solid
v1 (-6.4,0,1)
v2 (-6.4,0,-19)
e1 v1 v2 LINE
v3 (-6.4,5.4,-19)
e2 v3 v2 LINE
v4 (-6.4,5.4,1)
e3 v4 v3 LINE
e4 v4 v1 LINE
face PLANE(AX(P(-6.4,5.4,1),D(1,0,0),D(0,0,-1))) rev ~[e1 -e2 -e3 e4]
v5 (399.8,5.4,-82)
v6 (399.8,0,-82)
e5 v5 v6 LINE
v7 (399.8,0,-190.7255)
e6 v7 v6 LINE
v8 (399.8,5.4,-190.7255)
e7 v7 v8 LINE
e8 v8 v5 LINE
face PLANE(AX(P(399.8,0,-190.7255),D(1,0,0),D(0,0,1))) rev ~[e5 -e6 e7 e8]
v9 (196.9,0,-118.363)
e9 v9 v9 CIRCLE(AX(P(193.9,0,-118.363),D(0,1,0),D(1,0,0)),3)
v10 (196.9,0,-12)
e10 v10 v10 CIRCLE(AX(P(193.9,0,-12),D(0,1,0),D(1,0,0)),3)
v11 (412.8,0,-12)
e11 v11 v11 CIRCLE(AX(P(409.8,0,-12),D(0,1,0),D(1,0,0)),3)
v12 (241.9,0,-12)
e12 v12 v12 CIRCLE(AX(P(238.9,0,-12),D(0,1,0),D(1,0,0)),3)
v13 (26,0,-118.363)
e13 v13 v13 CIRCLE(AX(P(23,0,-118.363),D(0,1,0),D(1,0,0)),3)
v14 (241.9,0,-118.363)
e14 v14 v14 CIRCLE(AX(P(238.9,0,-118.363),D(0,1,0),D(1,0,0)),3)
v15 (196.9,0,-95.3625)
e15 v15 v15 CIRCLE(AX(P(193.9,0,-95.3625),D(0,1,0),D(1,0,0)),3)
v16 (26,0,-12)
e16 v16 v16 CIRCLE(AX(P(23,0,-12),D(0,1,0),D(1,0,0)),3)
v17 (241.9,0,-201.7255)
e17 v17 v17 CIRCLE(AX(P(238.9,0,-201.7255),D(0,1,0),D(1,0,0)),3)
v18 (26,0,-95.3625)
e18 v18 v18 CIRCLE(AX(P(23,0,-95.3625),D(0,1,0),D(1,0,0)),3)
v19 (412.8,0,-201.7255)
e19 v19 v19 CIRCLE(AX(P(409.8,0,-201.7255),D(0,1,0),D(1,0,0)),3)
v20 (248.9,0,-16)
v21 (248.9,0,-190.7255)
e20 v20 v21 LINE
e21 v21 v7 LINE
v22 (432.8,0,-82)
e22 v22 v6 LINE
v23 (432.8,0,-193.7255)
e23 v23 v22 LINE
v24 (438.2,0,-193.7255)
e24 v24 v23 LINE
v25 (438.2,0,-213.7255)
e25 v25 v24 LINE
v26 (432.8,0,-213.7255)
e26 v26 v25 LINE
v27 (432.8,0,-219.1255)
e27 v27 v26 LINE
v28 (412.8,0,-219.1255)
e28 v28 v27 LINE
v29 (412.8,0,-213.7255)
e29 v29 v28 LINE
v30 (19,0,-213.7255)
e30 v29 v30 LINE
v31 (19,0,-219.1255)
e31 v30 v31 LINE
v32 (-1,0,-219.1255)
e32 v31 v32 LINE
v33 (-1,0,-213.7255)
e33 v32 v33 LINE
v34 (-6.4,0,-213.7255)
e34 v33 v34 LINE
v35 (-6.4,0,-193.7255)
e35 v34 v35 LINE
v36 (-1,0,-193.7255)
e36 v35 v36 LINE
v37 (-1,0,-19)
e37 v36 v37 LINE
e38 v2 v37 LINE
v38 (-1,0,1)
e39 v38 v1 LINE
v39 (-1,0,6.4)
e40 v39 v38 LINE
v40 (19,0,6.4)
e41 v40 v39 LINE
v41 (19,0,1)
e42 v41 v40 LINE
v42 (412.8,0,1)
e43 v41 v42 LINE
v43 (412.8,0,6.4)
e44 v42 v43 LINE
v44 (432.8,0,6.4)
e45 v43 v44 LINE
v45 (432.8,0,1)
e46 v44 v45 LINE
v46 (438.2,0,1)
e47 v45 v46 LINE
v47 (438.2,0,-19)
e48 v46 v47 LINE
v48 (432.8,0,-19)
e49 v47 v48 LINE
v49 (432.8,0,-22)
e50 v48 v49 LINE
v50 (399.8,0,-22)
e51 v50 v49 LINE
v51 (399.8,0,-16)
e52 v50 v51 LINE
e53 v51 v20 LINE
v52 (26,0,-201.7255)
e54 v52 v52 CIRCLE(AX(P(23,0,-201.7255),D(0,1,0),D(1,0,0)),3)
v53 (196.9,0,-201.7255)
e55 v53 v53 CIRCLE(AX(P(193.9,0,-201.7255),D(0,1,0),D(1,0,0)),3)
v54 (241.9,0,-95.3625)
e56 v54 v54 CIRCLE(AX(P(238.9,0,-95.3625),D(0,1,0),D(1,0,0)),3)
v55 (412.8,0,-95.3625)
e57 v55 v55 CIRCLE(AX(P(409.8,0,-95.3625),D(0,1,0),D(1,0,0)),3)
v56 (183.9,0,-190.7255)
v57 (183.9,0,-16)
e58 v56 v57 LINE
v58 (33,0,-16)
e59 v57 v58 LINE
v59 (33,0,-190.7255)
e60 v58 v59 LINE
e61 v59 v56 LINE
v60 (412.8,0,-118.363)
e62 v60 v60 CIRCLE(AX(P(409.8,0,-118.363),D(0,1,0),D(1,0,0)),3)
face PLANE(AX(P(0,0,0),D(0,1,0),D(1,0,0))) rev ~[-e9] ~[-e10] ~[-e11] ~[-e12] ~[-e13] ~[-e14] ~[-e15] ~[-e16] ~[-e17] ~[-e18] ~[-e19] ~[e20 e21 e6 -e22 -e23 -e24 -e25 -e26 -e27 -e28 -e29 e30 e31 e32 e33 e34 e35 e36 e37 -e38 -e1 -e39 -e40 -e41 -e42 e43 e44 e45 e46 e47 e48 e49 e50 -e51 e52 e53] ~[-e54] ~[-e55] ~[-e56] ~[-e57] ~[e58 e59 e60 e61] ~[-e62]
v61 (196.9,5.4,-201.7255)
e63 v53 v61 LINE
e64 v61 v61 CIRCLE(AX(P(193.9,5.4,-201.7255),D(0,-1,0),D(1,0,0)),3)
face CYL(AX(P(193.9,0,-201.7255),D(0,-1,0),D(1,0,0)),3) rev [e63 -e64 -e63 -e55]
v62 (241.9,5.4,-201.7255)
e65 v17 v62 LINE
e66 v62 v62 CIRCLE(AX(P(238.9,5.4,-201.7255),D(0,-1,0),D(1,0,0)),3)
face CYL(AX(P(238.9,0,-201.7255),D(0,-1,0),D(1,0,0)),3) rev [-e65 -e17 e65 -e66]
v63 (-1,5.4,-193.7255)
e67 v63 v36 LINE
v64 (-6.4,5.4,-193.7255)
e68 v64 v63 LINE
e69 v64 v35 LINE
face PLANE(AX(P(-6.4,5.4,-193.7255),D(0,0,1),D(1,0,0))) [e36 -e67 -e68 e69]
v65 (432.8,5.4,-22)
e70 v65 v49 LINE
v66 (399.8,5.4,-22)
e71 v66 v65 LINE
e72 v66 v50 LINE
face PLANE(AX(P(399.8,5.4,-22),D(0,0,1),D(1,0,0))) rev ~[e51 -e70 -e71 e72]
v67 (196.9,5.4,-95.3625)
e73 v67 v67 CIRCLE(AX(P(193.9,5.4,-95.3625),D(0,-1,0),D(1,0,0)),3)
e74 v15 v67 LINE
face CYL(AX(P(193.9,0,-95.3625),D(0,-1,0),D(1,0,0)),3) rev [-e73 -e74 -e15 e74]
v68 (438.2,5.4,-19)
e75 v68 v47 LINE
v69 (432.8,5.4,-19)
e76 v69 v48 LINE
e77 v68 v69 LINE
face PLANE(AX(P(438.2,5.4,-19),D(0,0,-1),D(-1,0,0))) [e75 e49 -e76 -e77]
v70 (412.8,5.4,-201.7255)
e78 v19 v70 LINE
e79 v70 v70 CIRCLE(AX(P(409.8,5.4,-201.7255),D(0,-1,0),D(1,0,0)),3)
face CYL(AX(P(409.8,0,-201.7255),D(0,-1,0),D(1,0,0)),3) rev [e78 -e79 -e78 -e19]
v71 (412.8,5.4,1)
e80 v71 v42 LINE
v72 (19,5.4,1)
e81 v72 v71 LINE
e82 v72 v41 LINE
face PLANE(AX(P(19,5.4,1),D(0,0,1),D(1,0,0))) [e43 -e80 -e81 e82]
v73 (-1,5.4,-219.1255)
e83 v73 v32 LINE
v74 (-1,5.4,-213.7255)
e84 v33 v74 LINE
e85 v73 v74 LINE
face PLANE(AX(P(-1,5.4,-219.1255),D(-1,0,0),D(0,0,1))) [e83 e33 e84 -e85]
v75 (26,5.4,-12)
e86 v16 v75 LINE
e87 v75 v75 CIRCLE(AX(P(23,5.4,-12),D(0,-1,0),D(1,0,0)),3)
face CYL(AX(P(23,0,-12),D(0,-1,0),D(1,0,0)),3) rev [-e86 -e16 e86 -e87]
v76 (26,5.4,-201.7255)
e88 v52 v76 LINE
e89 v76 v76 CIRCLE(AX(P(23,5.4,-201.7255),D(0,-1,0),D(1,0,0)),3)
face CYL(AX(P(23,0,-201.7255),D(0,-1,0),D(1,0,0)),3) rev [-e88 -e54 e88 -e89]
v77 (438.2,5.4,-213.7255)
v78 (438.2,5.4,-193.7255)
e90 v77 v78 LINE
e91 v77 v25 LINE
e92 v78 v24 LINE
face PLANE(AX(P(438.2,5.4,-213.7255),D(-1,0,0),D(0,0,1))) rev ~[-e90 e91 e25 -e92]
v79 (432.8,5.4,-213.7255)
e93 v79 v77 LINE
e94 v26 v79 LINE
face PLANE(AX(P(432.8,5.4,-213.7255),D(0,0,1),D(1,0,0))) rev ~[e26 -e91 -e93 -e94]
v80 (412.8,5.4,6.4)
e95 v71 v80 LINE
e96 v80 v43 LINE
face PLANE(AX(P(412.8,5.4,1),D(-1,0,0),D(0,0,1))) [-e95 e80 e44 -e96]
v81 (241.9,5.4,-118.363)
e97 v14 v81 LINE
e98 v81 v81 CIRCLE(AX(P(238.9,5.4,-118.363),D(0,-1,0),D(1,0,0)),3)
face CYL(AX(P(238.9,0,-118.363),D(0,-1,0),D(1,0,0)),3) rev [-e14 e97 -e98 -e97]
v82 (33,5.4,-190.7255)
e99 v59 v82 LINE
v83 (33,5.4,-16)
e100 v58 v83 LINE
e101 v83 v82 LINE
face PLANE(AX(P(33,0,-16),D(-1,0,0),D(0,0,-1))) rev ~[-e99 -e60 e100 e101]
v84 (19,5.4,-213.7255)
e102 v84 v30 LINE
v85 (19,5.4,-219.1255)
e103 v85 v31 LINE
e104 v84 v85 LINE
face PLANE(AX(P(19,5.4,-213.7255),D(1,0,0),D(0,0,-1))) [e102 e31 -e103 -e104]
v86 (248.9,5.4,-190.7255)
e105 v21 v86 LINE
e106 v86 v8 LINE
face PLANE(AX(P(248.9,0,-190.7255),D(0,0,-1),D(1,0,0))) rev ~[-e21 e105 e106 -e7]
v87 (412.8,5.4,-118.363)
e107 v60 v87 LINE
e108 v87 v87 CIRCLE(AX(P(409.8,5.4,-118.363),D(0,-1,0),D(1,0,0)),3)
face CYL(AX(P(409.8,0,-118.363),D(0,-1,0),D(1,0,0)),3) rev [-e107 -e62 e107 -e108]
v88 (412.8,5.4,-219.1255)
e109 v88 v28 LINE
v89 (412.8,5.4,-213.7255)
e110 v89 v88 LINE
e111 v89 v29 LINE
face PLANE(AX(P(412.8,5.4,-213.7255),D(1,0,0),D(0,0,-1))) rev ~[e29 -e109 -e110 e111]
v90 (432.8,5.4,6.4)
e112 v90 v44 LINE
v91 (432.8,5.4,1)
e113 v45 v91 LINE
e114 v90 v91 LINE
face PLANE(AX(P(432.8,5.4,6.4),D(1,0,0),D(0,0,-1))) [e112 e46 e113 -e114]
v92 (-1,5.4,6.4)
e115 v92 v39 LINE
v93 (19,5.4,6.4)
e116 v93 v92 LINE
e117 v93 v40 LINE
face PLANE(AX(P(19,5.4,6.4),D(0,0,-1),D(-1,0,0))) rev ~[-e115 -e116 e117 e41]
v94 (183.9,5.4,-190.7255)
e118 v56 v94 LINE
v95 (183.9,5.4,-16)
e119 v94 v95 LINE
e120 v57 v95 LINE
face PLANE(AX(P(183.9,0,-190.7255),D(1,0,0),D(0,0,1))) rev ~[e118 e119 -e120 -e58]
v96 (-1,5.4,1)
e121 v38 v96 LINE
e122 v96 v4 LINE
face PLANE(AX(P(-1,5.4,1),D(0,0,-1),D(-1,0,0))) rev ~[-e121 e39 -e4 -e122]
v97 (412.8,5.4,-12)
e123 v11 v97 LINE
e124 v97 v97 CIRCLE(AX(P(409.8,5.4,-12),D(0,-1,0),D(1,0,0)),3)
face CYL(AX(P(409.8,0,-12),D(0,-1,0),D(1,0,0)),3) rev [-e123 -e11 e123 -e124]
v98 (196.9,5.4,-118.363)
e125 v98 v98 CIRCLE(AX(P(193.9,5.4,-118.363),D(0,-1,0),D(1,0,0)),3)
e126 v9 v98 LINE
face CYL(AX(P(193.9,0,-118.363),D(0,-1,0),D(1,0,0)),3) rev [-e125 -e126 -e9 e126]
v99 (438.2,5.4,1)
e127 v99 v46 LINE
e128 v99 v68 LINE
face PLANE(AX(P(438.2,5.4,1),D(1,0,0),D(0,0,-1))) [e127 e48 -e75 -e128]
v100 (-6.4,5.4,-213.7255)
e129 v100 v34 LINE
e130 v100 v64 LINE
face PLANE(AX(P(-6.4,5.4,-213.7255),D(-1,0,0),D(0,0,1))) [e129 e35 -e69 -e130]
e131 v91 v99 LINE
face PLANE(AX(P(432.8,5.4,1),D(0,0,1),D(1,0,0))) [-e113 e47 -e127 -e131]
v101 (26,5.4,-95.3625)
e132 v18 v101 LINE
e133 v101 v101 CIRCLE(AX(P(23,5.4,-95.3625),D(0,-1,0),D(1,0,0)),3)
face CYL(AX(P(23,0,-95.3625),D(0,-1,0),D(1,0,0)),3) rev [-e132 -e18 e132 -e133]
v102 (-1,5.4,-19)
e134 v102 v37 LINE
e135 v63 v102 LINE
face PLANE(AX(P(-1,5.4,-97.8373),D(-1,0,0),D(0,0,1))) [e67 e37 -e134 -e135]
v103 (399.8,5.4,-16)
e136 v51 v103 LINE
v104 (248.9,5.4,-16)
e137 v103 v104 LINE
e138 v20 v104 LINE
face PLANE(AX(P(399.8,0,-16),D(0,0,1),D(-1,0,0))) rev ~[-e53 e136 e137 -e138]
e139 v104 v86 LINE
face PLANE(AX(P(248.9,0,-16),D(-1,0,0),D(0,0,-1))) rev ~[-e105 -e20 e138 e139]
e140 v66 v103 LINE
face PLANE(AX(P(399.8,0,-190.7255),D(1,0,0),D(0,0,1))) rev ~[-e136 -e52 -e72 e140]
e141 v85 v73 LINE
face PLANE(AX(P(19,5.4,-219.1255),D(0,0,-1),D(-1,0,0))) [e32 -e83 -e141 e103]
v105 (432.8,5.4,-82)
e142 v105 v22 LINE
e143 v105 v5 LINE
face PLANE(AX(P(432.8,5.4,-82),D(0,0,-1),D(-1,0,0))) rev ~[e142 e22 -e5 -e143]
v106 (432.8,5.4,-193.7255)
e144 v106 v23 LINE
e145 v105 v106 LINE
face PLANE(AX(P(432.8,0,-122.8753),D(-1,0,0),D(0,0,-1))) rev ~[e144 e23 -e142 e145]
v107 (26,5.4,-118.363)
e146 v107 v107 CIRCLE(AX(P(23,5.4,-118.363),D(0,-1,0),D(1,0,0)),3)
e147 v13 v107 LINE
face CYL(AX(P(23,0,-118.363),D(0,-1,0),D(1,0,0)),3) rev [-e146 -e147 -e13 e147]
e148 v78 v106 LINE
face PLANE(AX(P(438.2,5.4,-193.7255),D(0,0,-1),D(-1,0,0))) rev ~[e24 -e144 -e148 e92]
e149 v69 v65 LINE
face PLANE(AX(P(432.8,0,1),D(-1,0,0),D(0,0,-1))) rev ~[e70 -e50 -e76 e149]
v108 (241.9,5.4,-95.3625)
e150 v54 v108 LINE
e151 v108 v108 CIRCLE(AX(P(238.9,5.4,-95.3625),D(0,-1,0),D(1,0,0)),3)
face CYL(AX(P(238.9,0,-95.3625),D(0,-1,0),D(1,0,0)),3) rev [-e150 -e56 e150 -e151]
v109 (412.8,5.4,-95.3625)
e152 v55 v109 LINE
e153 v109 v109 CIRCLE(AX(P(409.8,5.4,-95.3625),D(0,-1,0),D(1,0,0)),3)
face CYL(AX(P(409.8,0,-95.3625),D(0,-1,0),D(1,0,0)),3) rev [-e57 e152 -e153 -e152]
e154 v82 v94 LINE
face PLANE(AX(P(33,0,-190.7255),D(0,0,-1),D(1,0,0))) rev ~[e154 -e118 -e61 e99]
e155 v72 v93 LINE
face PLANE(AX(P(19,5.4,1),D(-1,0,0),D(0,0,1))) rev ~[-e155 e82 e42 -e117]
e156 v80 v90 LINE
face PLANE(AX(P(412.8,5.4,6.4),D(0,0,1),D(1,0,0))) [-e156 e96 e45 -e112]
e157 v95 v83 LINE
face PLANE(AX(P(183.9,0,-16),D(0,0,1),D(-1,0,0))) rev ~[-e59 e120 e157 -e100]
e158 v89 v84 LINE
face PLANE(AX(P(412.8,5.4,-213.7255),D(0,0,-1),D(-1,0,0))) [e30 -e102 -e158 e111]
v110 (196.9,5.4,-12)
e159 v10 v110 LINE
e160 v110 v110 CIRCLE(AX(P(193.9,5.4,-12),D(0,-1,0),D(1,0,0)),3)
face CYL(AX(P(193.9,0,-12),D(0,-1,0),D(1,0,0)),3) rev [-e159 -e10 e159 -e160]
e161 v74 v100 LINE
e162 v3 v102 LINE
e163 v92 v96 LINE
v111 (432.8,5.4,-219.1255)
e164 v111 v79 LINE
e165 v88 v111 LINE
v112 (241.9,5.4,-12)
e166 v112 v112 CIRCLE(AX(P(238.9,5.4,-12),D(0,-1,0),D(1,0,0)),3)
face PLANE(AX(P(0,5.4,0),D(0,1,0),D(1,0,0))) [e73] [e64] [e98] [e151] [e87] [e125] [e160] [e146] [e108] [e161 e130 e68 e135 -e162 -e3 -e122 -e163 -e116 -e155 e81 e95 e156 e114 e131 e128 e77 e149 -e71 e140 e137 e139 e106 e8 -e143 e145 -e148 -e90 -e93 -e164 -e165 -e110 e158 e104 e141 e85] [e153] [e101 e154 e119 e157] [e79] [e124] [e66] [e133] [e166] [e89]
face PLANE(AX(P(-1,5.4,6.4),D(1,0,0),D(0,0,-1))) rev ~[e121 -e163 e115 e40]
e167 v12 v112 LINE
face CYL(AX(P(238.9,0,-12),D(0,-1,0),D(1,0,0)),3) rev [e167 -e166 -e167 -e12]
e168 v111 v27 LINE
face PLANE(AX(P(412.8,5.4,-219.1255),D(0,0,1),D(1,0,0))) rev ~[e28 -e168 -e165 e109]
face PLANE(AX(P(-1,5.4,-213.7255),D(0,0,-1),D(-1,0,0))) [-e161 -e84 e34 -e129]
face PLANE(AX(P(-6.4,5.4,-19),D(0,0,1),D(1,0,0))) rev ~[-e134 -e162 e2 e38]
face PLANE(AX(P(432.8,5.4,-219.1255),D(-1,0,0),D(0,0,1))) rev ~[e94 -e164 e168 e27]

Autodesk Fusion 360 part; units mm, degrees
sketch "Sketch1" plane through (0, 0, 0) normal (0, 1, 0) x (1, 0, 0)
  line L0 (193.9, 118.363) -> (193.9, 201.7255) construction
  line L1 (183.9, 190.7255) -> (183.9, 16)
  line L2 (23, 201.7255) -> (23, 118.363) construction
  line L3 (23, 12) -> (193.9, 12) construction
  circle A0 centre (23, 12) radius 3
  circle A1 centre (238.9, 12) radius 3
  line L4 (193.9, 95.3625) -> (23, 95.3625) construction
  line L5 (399.8, 190.7255) -> (399.8, 16)
  circle A2 centre (238.9, 95.3625) radius 3
  circle A3 centre (23, 201.7255) radius 3
  line L6 (33, 16) -> (33, 190.7255)
  line L7 (0, 212.7255) -> (0, 106.363) construction
  circle A4 centre (23, 118.363) radius 3
  circle A5 centre (193.9, 201.7255) radius 3
  circle A6 centre (23, 95.3625) radius 3
  line L8 (0, 106.3625) -> (0, 0) construction
  circle A7 centre (193.9, 95.3625) radius 3
  line L9 (23, 118.363) -> (193.9, 118.363) construction
  line L10 (193.9, 12) -> (193.9, 95.3625) construction
  circle A8 centre (193.9, 118.363) radius 3
  circle A9 centre (193.9, 12) radius 3
  line L11 (183.9, 16) -> (33, 16)
  line L12 (215.9, 0) -> (215.9, 106.3625) construction
  circle A10 centre (409.8, 118.363) radius 3
  line L13 (238.9, 118.363) -> (409.8, 118.363) construction
  line L14 (23, 95.3625) -> (23, 12) construction
  line L15 (215.9, 0) -> (431.8, 0) construction
  line L16 (431.8, 0) -> (431.8, 106.3625) construction
  line L17 (0, 106.363) -> (215.9, 106.363) construction
  circle A11 centre (409.8, 201.7255) radius 3
  line L18 (215.9, 106.3625) -> (0, 106.3625) construction
  line L19 (409.8, 201.7255) -> (238.9, 201.7255) construction
  line L20 (409.8, 12) -> (409.8, 95.3625) construction
  line L21 (215.9, 212.7255) -> (0, 212.7255) construction
  line L22 (0, 0) -> (215.9, 0) construction
  line L23 (215.9, 106.3625) -> (215.9, 0) construction
  circle A12 centre (409.8, 12) radius 3
  line L24 (215.9, 106.363) -> (431.8, 106.363) construction
  line L25 (409.8, 118.363) -> (409.8, 201.7255) construction
  line L26 (215.9, 106.363) -> (215.9, 212.7255) construction
  line L27 (238.9, 95.3625) -> (238.9, 12) construction
  circle A13 centre (409.8, 95.3625) radius 3
  line L28 (238.9, 12) -> (409.8, 12) construction
  line L29 (248.9, 16) -> (248.9, 190.7255)
  line L30 (248.9, 190.7255) -> (399.8, 190.7255)
  line L31 (431.8, 106.363) -> (431.8, 212.7255) construction
  line L32 (399.8, 16) -> (248.9, 16)
  line L33 (431.8, 212.7255) -> (215.9, 212.7255) construction
  line L34 (409.8, 95.3625) -> (238.9, 95.3625) construction
  line L35 (193.9, 201.7255) -> (23, 201.7255) construction
  line L36 (431.8, 106.3625) -> (215.9, 106.3625) construction
  line L37 (33, 190.7255) -> (183.9, 190.7255)
  circle A14 centre (238.9, 118.363) radius 3
  circle A15 centre (238.9, 201.7255) radius 3
  line L38 (238.9, 201.7255) -> (238.9, 118.363) construction
  line L39 (215.9, 212.7255) -> (215.9, 106.363) construction
  line L40 (432.8, 122.8753) -> (432.8, 213.7255)
  line L41 (432.8, 213.7255) -> (215.9, 213.7255)
  line L42 (215.9, 213.7255) -> (-1, 213.7255)
  line L43 (-1, 213.7255) -> (-1, 97.8373)
  line L44 (-1, 97.8373) -> (-1, -1)
  line L45 (-1, -1) -> (215.9, -1)
  line L46 (215.9, -1) -> (432.8, -1)
  line L47 (432.8, -1) -> (432.8, 122.8753)
  point P0 (215.9, 106.363)
  point P1 (0, 106.363)
  point P2 (215.9, 0)
  dimension "d3" = 215.9
  dimension "d4" = 106.363
  dimension "d5" = 106.3625
  dimension "d6" = 215.9
  dimension "d7" = 23
  dimension "d8" = 11
  dimension "d9" = 12
  dimension "d10" = 22
  dimension "d11" = 6
  dimension "d12" = 6
  dimension "d13" = 6
  dimension "d14" = 6
  dimension "d15" = 10
  dimension "d16" = 11
  dimension "d17" = 4
  dimension "d18" = 10
  dimension "d19" = 10
  dimension "d20" = 11
  dimension "d21" = 10
  dimension "d22" = 4
  dimension "d23" = 1
  dimension "d24" = 1
extrude "Extrude1" add sketch "Sketch1" along normal blind 5.4
sketch "Sketch2" plane through (0, 5.4, 0) normal (0, 1, 0) x (-1, 0, 0)
  circle A0 centre (-409.8, -12) radius 3
  circle A1 centre (-23, -95.3625) radius 3
  circle A2 centre (-409.8, -201.7255) radius 3
  circle A3 centre (-409.8, -95.3625) radius 3
  circle A4 centre (-238.9, -118.363) radius 3
  circle A5 centre (-238.9, -201.7255) radius 3
  circle A6 centre (-23, -12) radius 3
  circle A7 centre (-193.9, -201.7255) radius 3
  circle A8 centre (-193.9, -95.3625) radius 3
  line L0 (-399.8, -190.7255) -> (-399.8, -16)
  line L1 (-399.8, -16) -> (-248.9, -16)
  line L2 (-248.9, -16) -> (-248.9, -190.7255)
  line L3 (-248.9, -190.7255) -> (-399.8, -190.7255)
  circle A9 centre (-23, -201.7255) radius 3
  line L4 (-33, -16) -> (-33, -190.7255)
  line L5 (-33, -190.7255) -> (-183.9, -190.7255)
  line L6 (-183.9, -190.7255) -> (-183.9, -16)
  line L7 (-183.9, -16) -> (-33, -16)
  circle A10 centre (-23, -118.363) radius 3
  circle A11 centre (-238.9, -12) radius 3
  circle A12 centre (-238.9, -95.3625) radius 3
  circle A13 centre (-193.9, -118.363) radius 3
  circle A14 centre (-409.8, -118.363) radius 3
  circle A15 centre (-193.9, -12) radius 3
  line L8 (-432.8, 1) -> (-432.8, -122.8753)
  line L9 (-432.8, -122.8753) -> (-432.8, -213.7255)
  line L10 (-432.8, -213.7255) -> (1, -213.7255)
  line L11 (1, -213.7255) -> (1, -97.8373)
  line L12 (1, -97.8373) -> (1, 1)
  line L13 (1, 1) -> (-432.8, 1)
  line L14 (-399.8, -22) -> (-432.8, -22)
  line L15 (-432.8, -22) -> (-432.8, -82)
  line L16 (-432.8, -82) -> (-399.8, -82)
  line L17 (-399.8, -82) -> (-399.8, -22)
  dimension "d27" = 60
  dimension "d65" = 6
  dimension "d66" = 60
extrude "Extrude2" cut sketch "Sketch2" against normal blind 20 contours L0 L8 L14 L15 L16 L17
sketch "Sketch3" plane through (0, 5.4, 0) normal (0, 1, 0) x (-1, 0, 0)
  circle A0 centre (-193.9, -12) radius 3
  circle A1 centre (-409.8, -118.363) radius 3
  circle A2 centre (-193.9, -118.363) radius 3
  circle A3 centre (-238.9, -95.3625) radius 3
  circle A4 centre (-238.9, -12) radius 3
  circle A5 centre (-23, -118.363) radius 3
  line L0 (-33, -16) -> (-33, -190.7255)
  line L1 (-33, -190.7255) -> (-183.9, -190.7255)
  line L2 (-183.9, -190.7255) -> (-183.9, -16)
  line L3 (-183.9, -16) -> (-33, -16)
  circle A6 centre (-23, -201.7255) radius 3
  line L4 (-432.8, -22) -> (-399.8, -22)
  line L5 (-248.9, -16) -> (-248.9, -190.7255)
  line L6 (-248.9, -190.7255) -> (-399.8, -190.7255)
  line L7 (-399.8, -22) -> (-399.8, -16)
  line L8 (-399.8, -82) -> (-432.8, -82)
  line L9 (-432.8, -82) -> (-432.8, -122.8753)
  line L10 (-432.8, -122.8753) -> (-432.8, -213.7255)
  line L11 (-432.8, -213.7255) -> (1, -213.7255)
  line L12 (1, -213.7255) -> (1, -97.8373)
  line L13 (1, -97.8373) -> (1, 1)
  line L14 (1, 1) -> (-432.8, 1)
  line L15 (-432.8, 1) -> (-432.8, -22)
  circle A7 centre (-193.9, -95.3625) radius 3
  circle A8 centre (-193.9, -201.7255) radius 3
  circle A9 centre (-23, -12) radius 3
  circle A10 centre (-238.9, -201.7255) radius 3
  circle A11 centre (-238.9, -118.363) radius 3
  circle A12 centre (-409.8, -95.3625) radius 3
  circle A13 centre (-409.8, -201.7255) radius 3
  circle A14 centre (-23, -95.3625) radius 3
  circle A15 centre (-409.8, -12) radius 3
  line L16 (1, -213.7255) -> (6.4, -213.7255)
  line L17 (6.4, -213.7255) -> (6.4, -193.7255)
  line L18 (6.4, -193.7255) -> (1, -193.7255)
  line L19 (1, -193.7255) -> (1, -213.7255)
  line L20 (1, 1) -> (6.4, 1)
  line L21 (6.4, 1) -> (6.4, -19)
  line L22 (6.4, -19) -> (1, -19)
  line L23 (1, -19) -> (1, 1)
  line L24 (1, 1) -> (-19, 1)
  line L25 (-19, 1) -> (-19, 6.4)
  line L26 (-19, 6.4) -> (1, 6.4)
  line L27 (1, 6.4) -> (1, 1)
  line L28 (1, -213.7255) -> (-19, -213.7255)
  line L29 (-19, -213.7255) -> (-19, -219.1255)
  line L30 (-19, -219.1255) -> (1, -219.1255)
  line L31 (1, -219.1255) -> (1, -213.7255)
  line L32 (-432.8, -213.7255) -> (-412.8, -213.7255)
  line L33 (-412.8, -213.7255) -> (-412.8, -219.1255)
  line L34 (-412.8, -219.1255) -> (-432.8, -219.1255)
  line L35 (-432.8, -219.1255) -> (-432.8, -213.7255)
  line L36 (-432.8, -213.7255) -> (-438.2, -213.7255)
  line L37 (-438.2, -213.7255) -> (-438.2, -193.7255)
  line L38 (-438.2, -193.7255) -> (-432.8, -193.7255)
  line L39 (-432.8, -193.7255) -> (-432.8, -213.7255)
  line L40 (-432.8, 1) -> (-438.2, 1)
  line L41 (-438.2, 1) -> (-438.2, -19)
  line L42 (-438.2, -19) -> (-432.8, -19)
  line L43 (-432.8, -19) -> (-432.8, 1)
  line L44 (-432.8, 1) -> (-412.8, 1)
  line L45 (-412.8, 1) -> (-412.8, 6.4)
  line L46 (-412.8, 6.4) -> (-432.8, 6.4)
  line L47 (-432.8, 6.4) -> (-432.8, 1)
  line L48 (-399.8, -16) -> (-248.9, -16)
  line L49 (-399.8, -190.7255) -> (-399.8, -82)
  dimension "d30" = 5.4
  dimension "d31" = 20
  dimension "d32" = 5.4
  dimension "d33" = 20
  dimension "d34" = 20
  dimension "d35" = 5.4
  dimension "d36" = 5.4
  dimension "d37" = 20
  dimension "d38" = 20
  dimension "d39" = 5.4
  dimension "d40" = 5.4
  dimension "d41" = 20
  dimension "d42" = 5.4
  dimension "d43" = 20
  dimension "d44" = 20
  dimension "d45" = 5.4
  dimension "d63" = 433.8
extrude "Extrude3" add sketch "Sketch3" against normal blind 5.4 contours A0 | A1 | A2 | A3 | A4 | A5 | A6 | L4 L5 L6 L7 L8 L9 L10 L11 L12 L13 L14 L15 L19 L23 L24 L28 L32 L39 L43 L44 L48 L49 | L15 L40 L41 L42 L43 | L14 L44 L45 L46 L47 | L14 L24 L25 L26 L27 | L13 L20 L21 L22 L23 | L12 L16 L17 L18 L19 | L10 L36 L37 L38 L39 | L11 L28 L29 L30 L31 | L11 L32 L33 L34 L35 | A7 | A8 | A9 | A10 | A11 | A12 | A13 | A14 | A15
extrude "Extrude5" cut sketch "Sketch1" along normal blind 30 contours A0 | A1 | A2 | A3 | A4 | A5 | A6 | A7 | A8 | A9 | A10 | A11 | A12 | A13 | A14 | A15
sketch "export" plane through (0, 5.4, 0) normal (0, 1, 0) x (-1, 0, 0)
  circle A0 centre (-23, -118.363) radius 3
  circle A1 centre (-409.8, -201.7255) radius 3
  circle A2 centre (-193.9, -12) radius 3
  circle A3 centre (-238.9, -118.363) radius 3
  circle A4 centre (-193.9, -118.363) radius 3
  circle A5 centre (-409.8, -12) radius 3
  circle A6 centre (-238.9, -201.7255) radius 3
  circle A7 centre (-23, -95.3625) radius 3
  circle A8 centre (-23, -201.7255) radius 3
  circle A9 centre (-409.8, -118.363) radius 3
  circle A10 centre (-238.9, -12) radius 3
  circle A11 centre (-238.9, -95.3625) radius 3
  circle A12 centre (-193.9, -95.3625) radius 3
  circle A13 centre (-409.8, -95.3625) radius 3
  circle A14 centre (-193.9, -201.7255) radius 3
  circle A15 centre (-23, -12) radius 3
  line L0 (-33, -16) -> (-33, -190.7255)
  line L1 (-33, -190.7255) -> (-183.9, -190.7255)
  line L2 (-183.9, -190.7255) -> (-183.9, -16)
  line L3 (-183.9, -16) -> (-33, -16)
  line L4 (-432.8, -22) -> (-399.8, -22)
  line L5 (-399.8, -22) -> (-399.8, -16)
  line L6 (-399.8, -16) -> (-248.9, -16)
  line L7 (-248.9, -16) -> (-248.9, -190.7255)
  line L8 (-248.9, -190.7255) -> (-399.8, -190.7255)
  line L9 (-399.8, -190.7255) -> (-399.8, -82)
  line L10 (-399.8, -82) -> (-432.8, -82)
  line L11 (-432.8, -82) -> (-432.8, -122.8753)
  line L12 (-432.8, -122.8753) -> (-432.8, -193.7255)
  line L13 (-432.8, -193.7255) -> (-438.2, -193.7255)
  line L14 (-438.2, -193.7255) -> (-438.2, -213.7255)
  line L15 (-438.2, -213.7255) -> (-432.8, -213.7255)
  line L16 (-432.8, -213.7255) -> (-432.8, -219.1255)
  line L17 (-432.8, -219.1255) -> (-412.8, -219.1255)
  line L18 (-412.8, -219.1255) -> (-412.8, -213.7255)
  line L19 (-412.8, -213.7255) -> (-19, -213.7255)
  line L20 (-19, -213.7255) -> (-19, -219.1255)
  line L21 (-19, -219.1255) -> (1, -219.1255)
  line L22 (1, -219.1255) -> (1, -213.7255)
  line L23 (1, -213.7255) -> (6.4, -213.7255)
  line L24 (6.4, -213.7255) -> (6.4, -193.7255)
  line L25 (6.4, -193.7255) -> (1, -193.7255)
  line L26 (1, -193.7255) -> (1, -97.8373)
  line L27 (1, -97.8373) -> (1, -19)
  line L28 (1, -19) -> (6.4, -19)
  line L29 (6.4, -19) -> (6.4, 1)
  line L30 (6.4, 1) -> (1, 1)
  line L31 (1, 1) -> (1, 6.4)
  line L32 (1, 6.4) -> (-19, 6.4)
  line L33 (-19, 6.4) -> (-19, 1)
  line L34 (-19, 1) -> (-412.8, 1)
  line L35 (-412.8, 1) -> (-412.8, 6.4)
  line L36 (-412.8, 6.4) -> (-432.8, 6.4)
  line L37 (-432.8, 6.4) -> (-432.8, 1)
  line L38 (-432.8, 1) -> (-438.2, 1)
  line L39 (-438.2, 1) -> (-438.2, -19)
  line L40 (-438.2, -19) -> (-432.8, -19)
  line L41 (-432.8, -19) -> (-432.8, -22)
equation "d17 = 11.00 mm - 7 mm"
equation "d22 = d17"
equation "d30 = d36"
equation "d31 = d33"
equation "d32 = d36"
equation "d34 = d33"
equation "d35 = d36"
equation "d37 = d33"
equation "d38 = d33"
equation "d39 = d36"
equation "d40 = d36"
equation "d41 = d33"
equation "d42 = d36"
equation "d43 = d33"
equation "d44 = d33"
equation "d45 = d42"
equation "d48 = d33"
equation "d50 = ( d63 - d48 ) / 2"
equation "d66 = d27"
